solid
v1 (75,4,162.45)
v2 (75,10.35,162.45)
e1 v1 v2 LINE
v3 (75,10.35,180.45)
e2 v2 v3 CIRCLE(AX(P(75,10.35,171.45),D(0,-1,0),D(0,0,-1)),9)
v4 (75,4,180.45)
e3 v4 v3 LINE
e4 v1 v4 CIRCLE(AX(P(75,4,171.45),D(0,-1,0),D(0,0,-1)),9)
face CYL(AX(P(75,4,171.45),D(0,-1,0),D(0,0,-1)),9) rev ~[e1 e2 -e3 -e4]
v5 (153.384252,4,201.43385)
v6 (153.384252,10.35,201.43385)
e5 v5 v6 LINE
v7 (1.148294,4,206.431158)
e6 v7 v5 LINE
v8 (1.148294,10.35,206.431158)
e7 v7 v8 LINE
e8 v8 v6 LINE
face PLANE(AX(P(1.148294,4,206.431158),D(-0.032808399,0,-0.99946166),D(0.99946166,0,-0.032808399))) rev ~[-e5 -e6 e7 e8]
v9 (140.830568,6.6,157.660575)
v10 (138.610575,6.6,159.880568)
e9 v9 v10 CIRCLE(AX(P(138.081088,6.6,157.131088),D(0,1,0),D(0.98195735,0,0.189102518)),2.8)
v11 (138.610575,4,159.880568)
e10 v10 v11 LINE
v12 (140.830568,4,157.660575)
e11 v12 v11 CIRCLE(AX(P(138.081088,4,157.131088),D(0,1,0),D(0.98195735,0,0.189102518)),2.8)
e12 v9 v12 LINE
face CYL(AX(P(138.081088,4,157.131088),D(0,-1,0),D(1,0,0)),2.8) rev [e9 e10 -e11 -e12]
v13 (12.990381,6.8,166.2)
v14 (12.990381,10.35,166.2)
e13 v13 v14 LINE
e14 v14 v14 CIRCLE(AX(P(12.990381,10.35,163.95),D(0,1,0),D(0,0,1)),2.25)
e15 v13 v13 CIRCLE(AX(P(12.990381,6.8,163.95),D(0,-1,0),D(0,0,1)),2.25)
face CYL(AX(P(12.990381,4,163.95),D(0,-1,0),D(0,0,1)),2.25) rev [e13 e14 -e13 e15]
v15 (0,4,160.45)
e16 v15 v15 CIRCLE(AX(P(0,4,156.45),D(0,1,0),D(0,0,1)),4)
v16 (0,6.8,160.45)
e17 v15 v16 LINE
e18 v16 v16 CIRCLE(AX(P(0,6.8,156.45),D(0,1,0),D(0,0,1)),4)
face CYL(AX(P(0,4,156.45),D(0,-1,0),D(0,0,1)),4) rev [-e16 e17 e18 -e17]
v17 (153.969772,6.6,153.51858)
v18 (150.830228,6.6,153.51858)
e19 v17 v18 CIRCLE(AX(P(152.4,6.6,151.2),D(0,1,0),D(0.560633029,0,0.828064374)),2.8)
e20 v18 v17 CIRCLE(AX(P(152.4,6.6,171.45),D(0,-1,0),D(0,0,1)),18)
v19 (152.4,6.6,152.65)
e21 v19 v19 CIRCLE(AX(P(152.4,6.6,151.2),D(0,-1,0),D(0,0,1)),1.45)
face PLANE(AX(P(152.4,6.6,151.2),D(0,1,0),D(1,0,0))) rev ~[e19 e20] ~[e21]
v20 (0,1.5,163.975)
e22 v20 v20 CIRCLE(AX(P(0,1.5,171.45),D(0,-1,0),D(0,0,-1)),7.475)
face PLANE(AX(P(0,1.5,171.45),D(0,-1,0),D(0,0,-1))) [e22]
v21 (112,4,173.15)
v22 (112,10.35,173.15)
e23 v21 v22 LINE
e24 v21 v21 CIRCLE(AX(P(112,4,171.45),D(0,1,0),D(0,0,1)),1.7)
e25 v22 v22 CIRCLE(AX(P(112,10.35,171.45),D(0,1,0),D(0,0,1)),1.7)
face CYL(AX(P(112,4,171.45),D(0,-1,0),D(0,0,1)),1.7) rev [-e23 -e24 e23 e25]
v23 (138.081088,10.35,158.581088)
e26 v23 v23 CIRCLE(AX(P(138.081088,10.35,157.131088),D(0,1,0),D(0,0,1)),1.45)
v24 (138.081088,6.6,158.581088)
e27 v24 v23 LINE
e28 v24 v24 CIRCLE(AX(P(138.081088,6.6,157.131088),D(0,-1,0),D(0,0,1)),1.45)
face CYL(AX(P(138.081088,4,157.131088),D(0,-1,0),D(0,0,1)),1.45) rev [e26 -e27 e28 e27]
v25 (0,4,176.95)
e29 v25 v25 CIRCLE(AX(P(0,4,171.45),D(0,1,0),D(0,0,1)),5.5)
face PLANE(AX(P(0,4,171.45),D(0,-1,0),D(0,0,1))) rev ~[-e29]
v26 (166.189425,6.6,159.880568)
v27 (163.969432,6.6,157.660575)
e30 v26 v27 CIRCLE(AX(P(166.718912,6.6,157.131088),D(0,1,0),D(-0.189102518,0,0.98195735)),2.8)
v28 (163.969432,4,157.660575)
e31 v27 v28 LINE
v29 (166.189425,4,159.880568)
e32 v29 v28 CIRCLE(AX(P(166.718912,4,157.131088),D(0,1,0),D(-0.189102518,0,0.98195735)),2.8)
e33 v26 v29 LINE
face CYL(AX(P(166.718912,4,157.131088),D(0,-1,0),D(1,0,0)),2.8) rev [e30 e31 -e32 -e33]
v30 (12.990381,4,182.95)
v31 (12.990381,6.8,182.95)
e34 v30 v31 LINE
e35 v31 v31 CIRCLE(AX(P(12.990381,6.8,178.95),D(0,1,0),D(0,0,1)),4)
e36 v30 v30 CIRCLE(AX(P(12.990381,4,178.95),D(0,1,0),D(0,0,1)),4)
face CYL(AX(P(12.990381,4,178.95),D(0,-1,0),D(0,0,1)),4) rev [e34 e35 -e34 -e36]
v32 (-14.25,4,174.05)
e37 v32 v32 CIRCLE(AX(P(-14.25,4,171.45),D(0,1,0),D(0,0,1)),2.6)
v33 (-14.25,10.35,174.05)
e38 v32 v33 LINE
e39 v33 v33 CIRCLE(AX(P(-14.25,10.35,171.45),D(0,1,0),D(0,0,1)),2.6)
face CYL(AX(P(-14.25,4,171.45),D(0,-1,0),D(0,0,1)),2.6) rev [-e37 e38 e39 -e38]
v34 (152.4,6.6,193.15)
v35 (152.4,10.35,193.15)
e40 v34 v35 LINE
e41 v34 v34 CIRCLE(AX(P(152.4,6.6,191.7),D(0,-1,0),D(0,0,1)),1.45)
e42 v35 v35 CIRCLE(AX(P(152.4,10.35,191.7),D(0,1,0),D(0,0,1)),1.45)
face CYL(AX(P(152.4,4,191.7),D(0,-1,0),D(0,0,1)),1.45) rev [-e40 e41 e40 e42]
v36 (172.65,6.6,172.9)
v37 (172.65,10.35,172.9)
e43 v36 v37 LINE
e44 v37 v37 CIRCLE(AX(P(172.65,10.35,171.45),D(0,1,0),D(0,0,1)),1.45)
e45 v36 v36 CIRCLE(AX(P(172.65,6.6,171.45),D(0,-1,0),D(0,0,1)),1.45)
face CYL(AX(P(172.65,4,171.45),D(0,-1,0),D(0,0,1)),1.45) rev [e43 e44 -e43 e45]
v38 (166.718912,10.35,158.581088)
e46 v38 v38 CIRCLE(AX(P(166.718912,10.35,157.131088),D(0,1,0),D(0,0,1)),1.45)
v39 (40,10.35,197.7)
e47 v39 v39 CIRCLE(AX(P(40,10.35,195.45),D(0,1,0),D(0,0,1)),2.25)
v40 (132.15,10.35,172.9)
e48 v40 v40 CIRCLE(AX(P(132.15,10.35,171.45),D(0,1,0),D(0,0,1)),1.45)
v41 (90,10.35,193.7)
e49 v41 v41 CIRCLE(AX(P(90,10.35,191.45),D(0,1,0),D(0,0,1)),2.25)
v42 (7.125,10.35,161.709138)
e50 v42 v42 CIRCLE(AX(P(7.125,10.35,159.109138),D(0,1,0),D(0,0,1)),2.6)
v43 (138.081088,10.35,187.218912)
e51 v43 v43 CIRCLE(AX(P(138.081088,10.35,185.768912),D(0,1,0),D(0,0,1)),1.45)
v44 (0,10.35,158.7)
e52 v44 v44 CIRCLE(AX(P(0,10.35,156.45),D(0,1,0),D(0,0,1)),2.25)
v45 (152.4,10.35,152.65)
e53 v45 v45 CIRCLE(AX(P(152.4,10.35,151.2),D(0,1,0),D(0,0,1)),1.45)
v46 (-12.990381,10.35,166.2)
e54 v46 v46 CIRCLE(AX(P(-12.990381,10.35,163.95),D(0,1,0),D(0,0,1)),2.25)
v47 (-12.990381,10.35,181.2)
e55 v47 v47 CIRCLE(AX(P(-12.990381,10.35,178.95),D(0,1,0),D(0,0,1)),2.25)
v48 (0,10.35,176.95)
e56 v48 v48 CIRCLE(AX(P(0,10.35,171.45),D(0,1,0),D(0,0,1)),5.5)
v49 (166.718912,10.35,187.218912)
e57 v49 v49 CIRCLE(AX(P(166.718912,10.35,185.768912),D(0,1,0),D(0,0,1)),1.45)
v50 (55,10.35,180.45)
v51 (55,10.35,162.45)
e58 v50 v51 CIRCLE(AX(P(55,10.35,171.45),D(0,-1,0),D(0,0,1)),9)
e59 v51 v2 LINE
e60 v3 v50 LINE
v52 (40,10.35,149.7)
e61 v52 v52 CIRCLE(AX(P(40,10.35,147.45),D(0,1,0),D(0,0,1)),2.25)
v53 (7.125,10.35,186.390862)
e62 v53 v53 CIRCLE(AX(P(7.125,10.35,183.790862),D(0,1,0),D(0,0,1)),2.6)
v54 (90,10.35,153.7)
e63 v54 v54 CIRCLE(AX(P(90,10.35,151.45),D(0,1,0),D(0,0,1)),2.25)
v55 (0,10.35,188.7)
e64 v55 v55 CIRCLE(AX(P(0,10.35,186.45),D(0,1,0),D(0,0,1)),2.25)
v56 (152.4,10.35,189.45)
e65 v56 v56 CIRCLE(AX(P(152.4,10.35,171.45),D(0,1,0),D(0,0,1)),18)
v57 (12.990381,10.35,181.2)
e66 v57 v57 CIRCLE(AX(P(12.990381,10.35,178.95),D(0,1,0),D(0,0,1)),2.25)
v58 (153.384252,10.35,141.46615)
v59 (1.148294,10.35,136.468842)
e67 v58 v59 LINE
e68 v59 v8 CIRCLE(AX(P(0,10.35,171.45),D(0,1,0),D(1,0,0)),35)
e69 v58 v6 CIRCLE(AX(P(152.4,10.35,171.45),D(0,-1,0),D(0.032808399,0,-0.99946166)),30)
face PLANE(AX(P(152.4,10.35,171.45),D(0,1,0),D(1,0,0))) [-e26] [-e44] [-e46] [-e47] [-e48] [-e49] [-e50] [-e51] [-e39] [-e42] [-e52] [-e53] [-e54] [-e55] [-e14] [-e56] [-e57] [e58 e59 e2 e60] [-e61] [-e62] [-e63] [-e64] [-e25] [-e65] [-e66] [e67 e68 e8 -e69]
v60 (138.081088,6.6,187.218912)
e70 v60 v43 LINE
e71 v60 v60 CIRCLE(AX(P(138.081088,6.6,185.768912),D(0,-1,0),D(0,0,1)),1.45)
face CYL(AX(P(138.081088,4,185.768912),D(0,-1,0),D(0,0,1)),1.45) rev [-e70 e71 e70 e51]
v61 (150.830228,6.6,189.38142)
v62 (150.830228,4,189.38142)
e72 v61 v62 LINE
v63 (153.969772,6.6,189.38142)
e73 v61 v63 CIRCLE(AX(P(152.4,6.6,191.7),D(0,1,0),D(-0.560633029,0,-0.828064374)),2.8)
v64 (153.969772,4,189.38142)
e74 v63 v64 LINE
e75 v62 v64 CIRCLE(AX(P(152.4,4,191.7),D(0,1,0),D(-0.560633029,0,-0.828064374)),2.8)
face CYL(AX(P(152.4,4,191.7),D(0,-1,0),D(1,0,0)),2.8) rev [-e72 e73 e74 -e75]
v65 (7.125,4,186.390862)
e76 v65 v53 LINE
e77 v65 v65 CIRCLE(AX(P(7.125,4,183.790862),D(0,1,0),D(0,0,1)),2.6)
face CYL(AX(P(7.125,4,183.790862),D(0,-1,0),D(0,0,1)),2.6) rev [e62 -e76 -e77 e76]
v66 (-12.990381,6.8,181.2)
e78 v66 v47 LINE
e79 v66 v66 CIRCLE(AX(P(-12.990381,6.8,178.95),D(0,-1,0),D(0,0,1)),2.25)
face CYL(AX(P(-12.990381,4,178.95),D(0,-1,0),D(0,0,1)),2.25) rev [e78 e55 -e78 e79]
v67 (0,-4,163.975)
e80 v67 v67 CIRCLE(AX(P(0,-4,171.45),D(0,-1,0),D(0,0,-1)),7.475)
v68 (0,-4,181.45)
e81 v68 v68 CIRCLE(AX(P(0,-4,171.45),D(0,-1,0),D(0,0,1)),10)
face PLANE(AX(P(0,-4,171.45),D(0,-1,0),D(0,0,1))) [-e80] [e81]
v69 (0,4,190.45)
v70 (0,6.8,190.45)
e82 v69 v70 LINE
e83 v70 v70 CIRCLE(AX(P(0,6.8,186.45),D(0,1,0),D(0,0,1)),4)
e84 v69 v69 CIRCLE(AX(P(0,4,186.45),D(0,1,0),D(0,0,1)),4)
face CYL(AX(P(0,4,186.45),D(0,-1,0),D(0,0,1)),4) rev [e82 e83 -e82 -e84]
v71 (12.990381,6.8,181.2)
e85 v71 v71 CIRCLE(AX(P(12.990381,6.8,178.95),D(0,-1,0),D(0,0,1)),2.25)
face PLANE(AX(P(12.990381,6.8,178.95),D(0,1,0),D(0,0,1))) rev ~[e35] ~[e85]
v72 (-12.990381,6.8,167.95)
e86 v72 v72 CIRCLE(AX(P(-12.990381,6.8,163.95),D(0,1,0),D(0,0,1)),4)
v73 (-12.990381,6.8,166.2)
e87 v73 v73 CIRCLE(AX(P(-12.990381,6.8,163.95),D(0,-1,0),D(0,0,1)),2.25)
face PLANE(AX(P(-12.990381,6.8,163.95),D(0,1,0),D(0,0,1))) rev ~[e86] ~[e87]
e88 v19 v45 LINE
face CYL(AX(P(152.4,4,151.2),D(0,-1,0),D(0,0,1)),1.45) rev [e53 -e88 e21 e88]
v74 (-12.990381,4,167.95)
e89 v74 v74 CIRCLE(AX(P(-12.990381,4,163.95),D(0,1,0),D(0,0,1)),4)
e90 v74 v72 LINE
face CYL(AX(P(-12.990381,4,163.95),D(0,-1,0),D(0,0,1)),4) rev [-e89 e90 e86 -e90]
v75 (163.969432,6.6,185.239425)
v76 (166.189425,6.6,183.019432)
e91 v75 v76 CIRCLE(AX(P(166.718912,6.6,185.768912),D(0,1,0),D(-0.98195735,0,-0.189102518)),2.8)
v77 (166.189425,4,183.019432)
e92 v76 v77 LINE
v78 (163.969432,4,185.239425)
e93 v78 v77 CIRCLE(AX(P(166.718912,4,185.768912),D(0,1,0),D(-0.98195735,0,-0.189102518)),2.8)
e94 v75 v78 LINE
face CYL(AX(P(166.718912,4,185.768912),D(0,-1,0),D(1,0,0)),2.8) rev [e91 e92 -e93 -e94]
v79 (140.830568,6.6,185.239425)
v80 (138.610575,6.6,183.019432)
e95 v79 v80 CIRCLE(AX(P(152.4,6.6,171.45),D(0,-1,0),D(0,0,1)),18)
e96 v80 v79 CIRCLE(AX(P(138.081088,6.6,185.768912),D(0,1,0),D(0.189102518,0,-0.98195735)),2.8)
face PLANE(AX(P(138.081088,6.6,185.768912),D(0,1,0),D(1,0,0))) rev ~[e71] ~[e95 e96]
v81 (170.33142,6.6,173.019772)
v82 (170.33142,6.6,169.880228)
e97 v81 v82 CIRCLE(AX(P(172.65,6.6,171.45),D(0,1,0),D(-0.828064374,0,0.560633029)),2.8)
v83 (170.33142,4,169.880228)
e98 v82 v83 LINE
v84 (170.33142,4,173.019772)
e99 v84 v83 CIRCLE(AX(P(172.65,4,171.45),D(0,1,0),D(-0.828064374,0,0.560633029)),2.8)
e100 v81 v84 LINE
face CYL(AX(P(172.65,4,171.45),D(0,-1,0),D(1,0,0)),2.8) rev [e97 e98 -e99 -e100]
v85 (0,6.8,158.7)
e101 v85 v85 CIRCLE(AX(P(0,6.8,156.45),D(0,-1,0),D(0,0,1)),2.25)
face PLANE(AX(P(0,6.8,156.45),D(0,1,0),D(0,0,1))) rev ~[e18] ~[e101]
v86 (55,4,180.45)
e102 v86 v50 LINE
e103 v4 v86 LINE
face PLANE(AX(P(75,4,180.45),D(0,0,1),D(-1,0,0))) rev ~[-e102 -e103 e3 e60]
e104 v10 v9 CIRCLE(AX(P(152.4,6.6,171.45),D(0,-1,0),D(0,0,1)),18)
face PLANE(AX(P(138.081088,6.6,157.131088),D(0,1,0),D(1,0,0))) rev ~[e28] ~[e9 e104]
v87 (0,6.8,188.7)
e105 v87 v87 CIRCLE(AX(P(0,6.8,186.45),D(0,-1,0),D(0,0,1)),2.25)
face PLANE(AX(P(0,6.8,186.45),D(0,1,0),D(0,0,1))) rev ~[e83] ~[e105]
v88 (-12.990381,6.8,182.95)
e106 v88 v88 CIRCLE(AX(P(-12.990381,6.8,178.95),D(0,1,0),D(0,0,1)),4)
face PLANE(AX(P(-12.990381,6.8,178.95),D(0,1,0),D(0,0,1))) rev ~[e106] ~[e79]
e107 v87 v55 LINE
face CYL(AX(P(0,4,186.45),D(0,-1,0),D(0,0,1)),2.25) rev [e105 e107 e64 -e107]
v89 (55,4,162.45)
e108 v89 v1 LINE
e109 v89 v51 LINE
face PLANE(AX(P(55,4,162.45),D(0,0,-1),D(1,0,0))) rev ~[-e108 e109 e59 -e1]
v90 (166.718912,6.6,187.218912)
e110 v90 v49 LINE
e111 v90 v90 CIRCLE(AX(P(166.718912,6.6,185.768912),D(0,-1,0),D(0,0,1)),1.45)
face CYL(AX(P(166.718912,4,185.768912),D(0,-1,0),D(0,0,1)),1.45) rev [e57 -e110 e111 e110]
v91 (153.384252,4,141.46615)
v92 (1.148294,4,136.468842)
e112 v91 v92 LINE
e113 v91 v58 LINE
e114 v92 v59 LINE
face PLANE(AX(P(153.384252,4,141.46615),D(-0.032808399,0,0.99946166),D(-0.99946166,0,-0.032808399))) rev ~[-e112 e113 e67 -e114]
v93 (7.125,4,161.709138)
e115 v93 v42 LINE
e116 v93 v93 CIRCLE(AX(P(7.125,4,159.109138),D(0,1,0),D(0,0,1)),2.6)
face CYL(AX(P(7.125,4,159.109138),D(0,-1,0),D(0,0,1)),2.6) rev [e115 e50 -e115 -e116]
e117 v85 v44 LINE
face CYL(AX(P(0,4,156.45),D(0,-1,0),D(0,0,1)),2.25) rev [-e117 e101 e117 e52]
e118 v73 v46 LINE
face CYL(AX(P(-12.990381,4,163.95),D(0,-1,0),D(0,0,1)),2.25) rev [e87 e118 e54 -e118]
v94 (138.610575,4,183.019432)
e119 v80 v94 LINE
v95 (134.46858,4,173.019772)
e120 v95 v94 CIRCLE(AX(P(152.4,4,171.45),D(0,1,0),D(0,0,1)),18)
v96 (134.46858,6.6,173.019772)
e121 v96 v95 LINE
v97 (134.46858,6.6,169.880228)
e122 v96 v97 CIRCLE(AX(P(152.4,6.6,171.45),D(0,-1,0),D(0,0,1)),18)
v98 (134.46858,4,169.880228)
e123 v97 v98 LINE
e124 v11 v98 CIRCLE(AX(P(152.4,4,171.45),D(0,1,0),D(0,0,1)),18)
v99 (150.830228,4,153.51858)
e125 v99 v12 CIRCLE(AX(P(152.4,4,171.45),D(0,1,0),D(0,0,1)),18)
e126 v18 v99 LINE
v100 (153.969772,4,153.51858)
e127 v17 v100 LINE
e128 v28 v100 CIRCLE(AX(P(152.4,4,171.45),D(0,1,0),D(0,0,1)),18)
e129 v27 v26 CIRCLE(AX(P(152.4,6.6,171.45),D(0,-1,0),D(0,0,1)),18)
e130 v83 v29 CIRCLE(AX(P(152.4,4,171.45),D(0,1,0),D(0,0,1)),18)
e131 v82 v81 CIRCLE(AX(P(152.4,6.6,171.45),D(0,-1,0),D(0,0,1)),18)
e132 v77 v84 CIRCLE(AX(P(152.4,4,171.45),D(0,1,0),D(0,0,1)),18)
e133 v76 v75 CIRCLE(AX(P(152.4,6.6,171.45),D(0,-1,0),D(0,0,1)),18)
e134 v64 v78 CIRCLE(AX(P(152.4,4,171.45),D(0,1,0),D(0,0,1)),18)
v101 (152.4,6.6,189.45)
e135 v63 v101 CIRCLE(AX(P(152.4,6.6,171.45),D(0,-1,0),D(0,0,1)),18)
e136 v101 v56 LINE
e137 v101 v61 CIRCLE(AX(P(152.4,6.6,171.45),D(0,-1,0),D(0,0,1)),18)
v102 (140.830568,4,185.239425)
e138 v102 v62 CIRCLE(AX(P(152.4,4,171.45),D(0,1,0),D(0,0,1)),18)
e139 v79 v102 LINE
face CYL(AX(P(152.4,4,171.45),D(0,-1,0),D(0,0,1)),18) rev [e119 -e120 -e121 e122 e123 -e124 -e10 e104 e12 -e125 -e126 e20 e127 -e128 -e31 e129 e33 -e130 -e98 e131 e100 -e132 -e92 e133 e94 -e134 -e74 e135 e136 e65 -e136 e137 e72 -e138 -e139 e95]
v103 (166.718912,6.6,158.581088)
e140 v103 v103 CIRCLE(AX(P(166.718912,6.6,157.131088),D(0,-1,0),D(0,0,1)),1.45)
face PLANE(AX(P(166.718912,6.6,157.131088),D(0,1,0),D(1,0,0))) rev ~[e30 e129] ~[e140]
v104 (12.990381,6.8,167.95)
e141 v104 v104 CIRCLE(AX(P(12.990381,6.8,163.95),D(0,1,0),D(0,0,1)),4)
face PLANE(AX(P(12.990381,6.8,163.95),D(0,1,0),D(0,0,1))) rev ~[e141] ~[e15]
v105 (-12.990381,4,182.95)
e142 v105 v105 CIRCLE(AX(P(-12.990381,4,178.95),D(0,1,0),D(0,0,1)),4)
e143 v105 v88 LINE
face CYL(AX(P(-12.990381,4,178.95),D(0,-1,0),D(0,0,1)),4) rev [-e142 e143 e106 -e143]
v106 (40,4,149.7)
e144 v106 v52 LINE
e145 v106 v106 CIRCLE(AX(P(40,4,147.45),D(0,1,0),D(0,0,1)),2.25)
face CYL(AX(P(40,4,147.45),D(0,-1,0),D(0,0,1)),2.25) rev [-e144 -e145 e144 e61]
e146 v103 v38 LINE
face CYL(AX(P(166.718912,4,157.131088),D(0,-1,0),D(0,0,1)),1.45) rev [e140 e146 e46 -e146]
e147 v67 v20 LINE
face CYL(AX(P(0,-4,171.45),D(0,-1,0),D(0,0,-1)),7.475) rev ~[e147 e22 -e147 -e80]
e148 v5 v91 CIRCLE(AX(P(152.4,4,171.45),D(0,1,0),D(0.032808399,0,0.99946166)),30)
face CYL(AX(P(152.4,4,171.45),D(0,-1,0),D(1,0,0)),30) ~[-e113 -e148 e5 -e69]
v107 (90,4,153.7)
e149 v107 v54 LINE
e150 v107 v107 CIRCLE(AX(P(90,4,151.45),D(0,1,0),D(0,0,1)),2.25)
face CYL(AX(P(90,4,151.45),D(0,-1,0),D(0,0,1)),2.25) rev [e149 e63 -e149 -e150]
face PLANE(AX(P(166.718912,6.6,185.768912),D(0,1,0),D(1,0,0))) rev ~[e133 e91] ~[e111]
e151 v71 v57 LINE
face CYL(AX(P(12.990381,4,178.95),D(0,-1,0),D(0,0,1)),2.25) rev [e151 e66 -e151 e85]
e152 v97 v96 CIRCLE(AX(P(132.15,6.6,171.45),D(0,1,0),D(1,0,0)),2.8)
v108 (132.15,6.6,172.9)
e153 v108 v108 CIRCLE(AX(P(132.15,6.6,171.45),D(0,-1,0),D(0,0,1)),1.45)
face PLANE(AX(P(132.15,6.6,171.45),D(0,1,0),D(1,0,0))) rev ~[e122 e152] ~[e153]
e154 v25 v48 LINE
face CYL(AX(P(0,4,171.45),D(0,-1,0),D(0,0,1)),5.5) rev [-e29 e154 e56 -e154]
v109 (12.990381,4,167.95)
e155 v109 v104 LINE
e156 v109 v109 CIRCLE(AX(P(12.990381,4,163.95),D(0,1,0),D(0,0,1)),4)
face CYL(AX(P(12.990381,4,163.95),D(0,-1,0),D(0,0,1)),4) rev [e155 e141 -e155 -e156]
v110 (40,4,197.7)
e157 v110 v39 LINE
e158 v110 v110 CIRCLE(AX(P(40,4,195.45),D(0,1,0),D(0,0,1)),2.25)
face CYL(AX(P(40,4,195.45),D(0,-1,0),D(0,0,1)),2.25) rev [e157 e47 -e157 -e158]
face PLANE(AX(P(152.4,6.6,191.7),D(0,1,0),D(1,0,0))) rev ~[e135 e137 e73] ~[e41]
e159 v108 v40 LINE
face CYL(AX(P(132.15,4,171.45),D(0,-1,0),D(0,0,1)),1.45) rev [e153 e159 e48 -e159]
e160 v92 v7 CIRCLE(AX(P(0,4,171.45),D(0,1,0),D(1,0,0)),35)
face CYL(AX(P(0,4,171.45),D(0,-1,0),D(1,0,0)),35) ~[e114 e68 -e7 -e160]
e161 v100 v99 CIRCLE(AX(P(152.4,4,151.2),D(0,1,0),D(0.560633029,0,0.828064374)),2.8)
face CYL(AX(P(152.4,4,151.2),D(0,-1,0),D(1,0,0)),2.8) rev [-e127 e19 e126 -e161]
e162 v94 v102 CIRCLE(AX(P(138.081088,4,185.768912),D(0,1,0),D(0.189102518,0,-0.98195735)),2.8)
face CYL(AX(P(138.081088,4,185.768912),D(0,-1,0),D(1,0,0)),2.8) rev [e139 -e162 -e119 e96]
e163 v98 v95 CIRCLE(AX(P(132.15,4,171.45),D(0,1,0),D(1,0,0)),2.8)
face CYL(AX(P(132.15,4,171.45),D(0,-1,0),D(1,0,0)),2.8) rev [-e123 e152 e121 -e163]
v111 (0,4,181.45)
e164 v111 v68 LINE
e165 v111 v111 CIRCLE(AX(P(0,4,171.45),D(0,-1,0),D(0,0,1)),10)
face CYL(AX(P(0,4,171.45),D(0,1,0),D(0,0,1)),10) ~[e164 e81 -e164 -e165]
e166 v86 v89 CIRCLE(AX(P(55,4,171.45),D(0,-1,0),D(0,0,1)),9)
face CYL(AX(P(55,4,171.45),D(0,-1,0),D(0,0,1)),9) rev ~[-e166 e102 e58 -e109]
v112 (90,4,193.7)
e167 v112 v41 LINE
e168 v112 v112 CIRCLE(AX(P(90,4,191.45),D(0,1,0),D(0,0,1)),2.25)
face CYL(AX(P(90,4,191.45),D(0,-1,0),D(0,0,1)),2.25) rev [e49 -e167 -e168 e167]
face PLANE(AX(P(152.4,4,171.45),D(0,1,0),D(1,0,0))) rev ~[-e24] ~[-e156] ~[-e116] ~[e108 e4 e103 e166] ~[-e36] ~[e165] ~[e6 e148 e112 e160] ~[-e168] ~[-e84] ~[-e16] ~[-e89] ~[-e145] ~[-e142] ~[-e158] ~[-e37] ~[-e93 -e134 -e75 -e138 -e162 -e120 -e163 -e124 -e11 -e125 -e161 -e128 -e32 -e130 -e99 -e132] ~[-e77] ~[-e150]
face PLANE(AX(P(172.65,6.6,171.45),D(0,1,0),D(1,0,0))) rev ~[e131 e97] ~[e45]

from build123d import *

# Parameters (mm, degrees)
PLACA_START                     = 4
PLACA_DEPTH                     = 6.35
PLACA_R1_START                  = 4
CROQUIS14_R                     = 35
PLACA_R1_DEPTH                  = 6.35
PLACA_R2_START                  = 4
CROQUIS15_R                     = 30
PLACA_R2_DEPTH                  = 6.35
ALIGERADO_START                 = 4
ALIGERADO_DEPTH                 = 6.35
BARRENOS_SEPARADORES_M4_START   = 4
CROQUIS17_R                     = 2.25
BARRENOS_SEPARADORES_M4_DEPTH   = 6.35
BARRENOS_M2_Y_M3_START          = 4
CROQUIS18_R                     = 2.25
CROQUIS18_R_2                   = 2.6
CROQUIS18_R_3                   = 5.5
CROQUIS18_R_4                   = 18
CROQUIS18_R_5                   = 1.45
BARRENOS_M2_Y_M3_DEPTH          = 6.35
REFRENTADO_M4_CABEZA_BAJA_START = 4
CROQUIS19_R                     = 4
REFRENTADO_M4_CABEZA_BAJA_DEPTH = 2.8
REFRENTADO_M2_5_START           = 4
CROQUIS20_R                     = 2.8
REFRENTADO_M2_5_DEPTH           = 2.6
ROSCA_M3_BASES_CINCHO_START     = 4
CROQUIS21_R                     = 1.25
ROSCA_M3_BASES_CINCHO_DEPTH     = 6.35
PASO_M3_BASES_CINCHO_START      = 4
CROQUIS22_R                     = 1.7
PASO_M3_BASES_CINCHO_DEPTH      = 6.35
CROQUIS23_R                     = 10
SALIENTE_EXTRUIR1_DEPTH         = 8
CROQUIS24_R                     = 7.475
CORTAR_EXTRUIR1_DEPTH           = 5.5


with BuildPart() as part:
    # Croquis13 → Placa (new body)
    with BuildSketch(Plane(origin=(0, 0, 0), x_dir=(1, 0, 0), z_dir=(0, 1, 0)).offset(PLACA_START)):
        Polygon((1.148293963, -206.431158085), (153.384251969, -201.433849787), (153.384251969, -141.466150213), (1.148293963, -136.468841915), align=None)
    extrude(amount=PLACA_DEPTH)

    # Croquis14 → Placa_r1 (add)
    with BuildSketch(Plane(origin=(0, 0, 0), x_dir=(1, 0, 0), z_dir=(0, 1, 0)).offset(PLACA_R1_START)):
        with Locations((0, -171.45)):
            Circle(CROQUIS14_R)
    extrude(amount=PLACA_R1_DEPTH)

    # Croquis15 → Placa_r2 (add)
    with BuildSketch(Plane(origin=(0, 0, 0), x_dir=(1, 0, 0), z_dir=(0, 1, 0)).offset(PLACA_R2_START)):
        with Locations((152.4, -171.45)):
            Circle(CROQUIS15_R)
    extrude(amount=PLACA_R2_DEPTH)

    # Croquis16 → Aligerado (cut)
    with BuildSketch(Plane(origin=(0, 0, 0), x_dir=(1, 0, 0), z_dir=(0, 1, 0)).offset(ALIGERADO_START)):
        with BuildLine():
            Line((55, -162.45), (75, -162.45))
            ThreePointArc((75, -162.45), (84, -171.45), (75, -180.45))
            Line((75, -180.45), (55, -180.45))
            ThreePointArc((55, -180.45), (46, -171.45), (55, -162.45))
        make_face()
    extrude(amount=ALIGERADO_DEPTH, mode=Mode.SUBTRACT)

    # Croquis17 → Barrenos_separadores_M4 (cut)
    with BuildSketch(Plane(origin=(0, 0, 0), x_dir=(1, 0, 0), z_dir=(0, 1, 0)).offset(BARRENOS_SEPARADORES_M4_START)):
        with Locations((40, -195.45)):
            Circle(CROQUIS17_R)
        with Locations((40, -147.45)):
            Circle(CROQUIS17_R)
        with Locations((90, -191.45)):
            Circle(CROQUIS17_R)
        with Locations((90, -151.45)):
            Circle(CROQUIS17_R)
    extrude(amount=BARRENOS_SEPARADORES_M4_DEPTH, mode=Mode.SUBTRACT)

    # Croquis18 → Barrenos_M2_y_M3 (cut)
    with BuildSketch(Plane(origin=(0, 0, 0), x_dir=(1, 0, 0), z_dir=(0, 1, 0)).offset(BARRENOS_M2_Y_M3_START)):
        with Locations((12.990381057, -178.95)):
            Circle(CROQUIS18_R)
        with Locations((0, -186.45)):
            Circle(CROQUIS18_R)
        with Locations((-12.990381057, -178.95)):
            Circle(CROQUIS18_R)
        with Locations((-12.990381057, -163.95)):
            Circle(CROQUIS18_R)
        with Locations((0, -156.45)):
            Circle(CROQUIS18_R)
        with Locations((12.990381057, -163.95)):
            Circle(CROQUIS18_R)
        with Locations((7.125, -183.790862004)):
            Circle(CROQUIS18_R_2)
        with Locations((-14.25, -171.45)):
            Circle(CROQUIS18_R_2)
        with Locations((7.125, -159.109137996)):
            Circle(CROQUIS18_R_2)
        with Locations((0, -171.45)):
            Circle(CROQUIS18_R_3)
        with Locations((152.4, -171.45)):
            Circle(CROQUIS18_R_4)
        with Locations((172.65, -171.45)):
            Circle(CROQUIS18_R_5)
        with Locations((166.718912319, -185.768912319)):
            Circle(CROQUIS18_R_5)
        with Locations((152.4, -191.7)):
            Circle(CROQUIS18_R_5)
        with Locations((138.081087681, -185.768912319)):
            Circle(CROQUIS18_R_5)
        with Locations((132.15, -171.45)):
            Circle(CROQUIS18_R_5)
        with Locations((138.081087681, -157.131087681)):
            Circle(CROQUIS18_R_5)
        with Locations((152.4, -151.2)):
            Circle(CROQUIS18_R_5)
        with Locations((166.718912319, -157.131087681)):
            Circle(CROQUIS18_R_5)
    extrude(amount=BARRENOS_M2_Y_M3_DEPTH, mode=Mode.SUBTRACT)

    # Croquis19 → Refrentado_M4_cabeza_baja (cut)
    with BuildSketch(Plane(origin=(0, 0, 0), x_dir=(1, 0, 0), z_dir=(0, 1, 0)).offset(REFRENTADO_M4_CABEZA_BAJA_START)):
        with Locations((12.990381057, -178.95)):
            Circle(CROQUIS19_R)
        with Locations((0, -186.45)):
            Circle(CROQUIS19_R)
        with Locations((-12.990381057, -178.95)):
            Circle(CROQUIS19_R)
        with Locations((-12.990381057, -163.95)):
            Circle(CROQUIS19_R)
        with Locations((0, -156.45)):
            Circle(CROQUIS19_R)
        with Locations((12.990381057, -163.95)):
            Circle(CROQUIS19_R)
    extrude(amount=REFRENTADO_M4_CABEZA_BAJA_DEPTH, mode=Mode.SUBTRACT)

    # Croquis20 → Refrentado_M2-5 (cut)
    with BuildSketch(Plane(origin=(0, 0, 0), x_dir=(1, 0, 0), z_dir=(0, 1, 0)).offset(REFRENTADO_M2_5_START)):
        with Locations((172.65, -171.45)):
            Circle(CROQUIS20_R)
        with Locations((166.718912319, -185.768912319)):
            Circle(CROQUIS20_R)
        with Locations((152.4, -191.7)):
            Circle(CROQUIS20_R)
        with Locations((138.081087681, -185.768912319)):
            Circle(CROQUIS20_R)
        with Locations((132.15, -171.45)):
            Circle(CROQUIS20_R)
        with Locations((138.081087681, -157.131087681)):
            Circle(CROQUIS20_R)
        with Locations((152.4, -151.2)):
            Circle(CROQUIS20_R)
        with Locations((166.718912319, -157.131087681)):
            Circle(CROQUIS20_R)
    extrude(amount=REFRENTADO_M2_5_DEPTH, mode=Mode.SUBTRACT)

    # Croquis21 → Rosca_M3_bases_cincho (cut)
    with BuildSketch(Plane(origin=(0, 0, 0), x_dir=(1, 0, 0), z_dir=(0, 1, 0)).offset(ROSCA_M3_BASES_CINCHO_START)):
        with Locations((112, -171.45)):
            Circle(CROQUIS21_R)
    extrude(amount=ROSCA_M3_BASES_CINCHO_DEPTH, mode=Mode.SUBTRACT)

    # Croquis22 → Paso_M3_bases_cincho (cut)
    with BuildSketch(Plane(origin=(0, 0, 0), x_dir=(1, 0, 0), z_dir=(0, 1, 0)).offset(PASO_M3_BASES_CINCHO_START)):
        with Locations((112, -171.45)):
            Circle(CROQUIS22_R)
    extrude(amount=PASO_M3_BASES_CINCHO_DEPTH, mode=Mode.SUBTRACT)

    # Croquis23 → Saliente-Extruir1 (add)
    with BuildSketch(Plane.XZ.offset(-4)):
        with Locations((0, 171.45)):
            Circle(CROQUIS23_R)
    extrude(amount=SALIENTE_EXTRUIR1_DEPTH)

    # Croquis24 → Cortar-Extruir1 (cut)
    with BuildSketch(Plane.XZ.offset(4)):
        with Locations((0, 171.45)):
            Circle(CROQUIS24_R)
    extrude(amount=-CORTAR_EXTRUIR1_DEPTH, mode=Mode.SUBTRACT)


solid = part.part
